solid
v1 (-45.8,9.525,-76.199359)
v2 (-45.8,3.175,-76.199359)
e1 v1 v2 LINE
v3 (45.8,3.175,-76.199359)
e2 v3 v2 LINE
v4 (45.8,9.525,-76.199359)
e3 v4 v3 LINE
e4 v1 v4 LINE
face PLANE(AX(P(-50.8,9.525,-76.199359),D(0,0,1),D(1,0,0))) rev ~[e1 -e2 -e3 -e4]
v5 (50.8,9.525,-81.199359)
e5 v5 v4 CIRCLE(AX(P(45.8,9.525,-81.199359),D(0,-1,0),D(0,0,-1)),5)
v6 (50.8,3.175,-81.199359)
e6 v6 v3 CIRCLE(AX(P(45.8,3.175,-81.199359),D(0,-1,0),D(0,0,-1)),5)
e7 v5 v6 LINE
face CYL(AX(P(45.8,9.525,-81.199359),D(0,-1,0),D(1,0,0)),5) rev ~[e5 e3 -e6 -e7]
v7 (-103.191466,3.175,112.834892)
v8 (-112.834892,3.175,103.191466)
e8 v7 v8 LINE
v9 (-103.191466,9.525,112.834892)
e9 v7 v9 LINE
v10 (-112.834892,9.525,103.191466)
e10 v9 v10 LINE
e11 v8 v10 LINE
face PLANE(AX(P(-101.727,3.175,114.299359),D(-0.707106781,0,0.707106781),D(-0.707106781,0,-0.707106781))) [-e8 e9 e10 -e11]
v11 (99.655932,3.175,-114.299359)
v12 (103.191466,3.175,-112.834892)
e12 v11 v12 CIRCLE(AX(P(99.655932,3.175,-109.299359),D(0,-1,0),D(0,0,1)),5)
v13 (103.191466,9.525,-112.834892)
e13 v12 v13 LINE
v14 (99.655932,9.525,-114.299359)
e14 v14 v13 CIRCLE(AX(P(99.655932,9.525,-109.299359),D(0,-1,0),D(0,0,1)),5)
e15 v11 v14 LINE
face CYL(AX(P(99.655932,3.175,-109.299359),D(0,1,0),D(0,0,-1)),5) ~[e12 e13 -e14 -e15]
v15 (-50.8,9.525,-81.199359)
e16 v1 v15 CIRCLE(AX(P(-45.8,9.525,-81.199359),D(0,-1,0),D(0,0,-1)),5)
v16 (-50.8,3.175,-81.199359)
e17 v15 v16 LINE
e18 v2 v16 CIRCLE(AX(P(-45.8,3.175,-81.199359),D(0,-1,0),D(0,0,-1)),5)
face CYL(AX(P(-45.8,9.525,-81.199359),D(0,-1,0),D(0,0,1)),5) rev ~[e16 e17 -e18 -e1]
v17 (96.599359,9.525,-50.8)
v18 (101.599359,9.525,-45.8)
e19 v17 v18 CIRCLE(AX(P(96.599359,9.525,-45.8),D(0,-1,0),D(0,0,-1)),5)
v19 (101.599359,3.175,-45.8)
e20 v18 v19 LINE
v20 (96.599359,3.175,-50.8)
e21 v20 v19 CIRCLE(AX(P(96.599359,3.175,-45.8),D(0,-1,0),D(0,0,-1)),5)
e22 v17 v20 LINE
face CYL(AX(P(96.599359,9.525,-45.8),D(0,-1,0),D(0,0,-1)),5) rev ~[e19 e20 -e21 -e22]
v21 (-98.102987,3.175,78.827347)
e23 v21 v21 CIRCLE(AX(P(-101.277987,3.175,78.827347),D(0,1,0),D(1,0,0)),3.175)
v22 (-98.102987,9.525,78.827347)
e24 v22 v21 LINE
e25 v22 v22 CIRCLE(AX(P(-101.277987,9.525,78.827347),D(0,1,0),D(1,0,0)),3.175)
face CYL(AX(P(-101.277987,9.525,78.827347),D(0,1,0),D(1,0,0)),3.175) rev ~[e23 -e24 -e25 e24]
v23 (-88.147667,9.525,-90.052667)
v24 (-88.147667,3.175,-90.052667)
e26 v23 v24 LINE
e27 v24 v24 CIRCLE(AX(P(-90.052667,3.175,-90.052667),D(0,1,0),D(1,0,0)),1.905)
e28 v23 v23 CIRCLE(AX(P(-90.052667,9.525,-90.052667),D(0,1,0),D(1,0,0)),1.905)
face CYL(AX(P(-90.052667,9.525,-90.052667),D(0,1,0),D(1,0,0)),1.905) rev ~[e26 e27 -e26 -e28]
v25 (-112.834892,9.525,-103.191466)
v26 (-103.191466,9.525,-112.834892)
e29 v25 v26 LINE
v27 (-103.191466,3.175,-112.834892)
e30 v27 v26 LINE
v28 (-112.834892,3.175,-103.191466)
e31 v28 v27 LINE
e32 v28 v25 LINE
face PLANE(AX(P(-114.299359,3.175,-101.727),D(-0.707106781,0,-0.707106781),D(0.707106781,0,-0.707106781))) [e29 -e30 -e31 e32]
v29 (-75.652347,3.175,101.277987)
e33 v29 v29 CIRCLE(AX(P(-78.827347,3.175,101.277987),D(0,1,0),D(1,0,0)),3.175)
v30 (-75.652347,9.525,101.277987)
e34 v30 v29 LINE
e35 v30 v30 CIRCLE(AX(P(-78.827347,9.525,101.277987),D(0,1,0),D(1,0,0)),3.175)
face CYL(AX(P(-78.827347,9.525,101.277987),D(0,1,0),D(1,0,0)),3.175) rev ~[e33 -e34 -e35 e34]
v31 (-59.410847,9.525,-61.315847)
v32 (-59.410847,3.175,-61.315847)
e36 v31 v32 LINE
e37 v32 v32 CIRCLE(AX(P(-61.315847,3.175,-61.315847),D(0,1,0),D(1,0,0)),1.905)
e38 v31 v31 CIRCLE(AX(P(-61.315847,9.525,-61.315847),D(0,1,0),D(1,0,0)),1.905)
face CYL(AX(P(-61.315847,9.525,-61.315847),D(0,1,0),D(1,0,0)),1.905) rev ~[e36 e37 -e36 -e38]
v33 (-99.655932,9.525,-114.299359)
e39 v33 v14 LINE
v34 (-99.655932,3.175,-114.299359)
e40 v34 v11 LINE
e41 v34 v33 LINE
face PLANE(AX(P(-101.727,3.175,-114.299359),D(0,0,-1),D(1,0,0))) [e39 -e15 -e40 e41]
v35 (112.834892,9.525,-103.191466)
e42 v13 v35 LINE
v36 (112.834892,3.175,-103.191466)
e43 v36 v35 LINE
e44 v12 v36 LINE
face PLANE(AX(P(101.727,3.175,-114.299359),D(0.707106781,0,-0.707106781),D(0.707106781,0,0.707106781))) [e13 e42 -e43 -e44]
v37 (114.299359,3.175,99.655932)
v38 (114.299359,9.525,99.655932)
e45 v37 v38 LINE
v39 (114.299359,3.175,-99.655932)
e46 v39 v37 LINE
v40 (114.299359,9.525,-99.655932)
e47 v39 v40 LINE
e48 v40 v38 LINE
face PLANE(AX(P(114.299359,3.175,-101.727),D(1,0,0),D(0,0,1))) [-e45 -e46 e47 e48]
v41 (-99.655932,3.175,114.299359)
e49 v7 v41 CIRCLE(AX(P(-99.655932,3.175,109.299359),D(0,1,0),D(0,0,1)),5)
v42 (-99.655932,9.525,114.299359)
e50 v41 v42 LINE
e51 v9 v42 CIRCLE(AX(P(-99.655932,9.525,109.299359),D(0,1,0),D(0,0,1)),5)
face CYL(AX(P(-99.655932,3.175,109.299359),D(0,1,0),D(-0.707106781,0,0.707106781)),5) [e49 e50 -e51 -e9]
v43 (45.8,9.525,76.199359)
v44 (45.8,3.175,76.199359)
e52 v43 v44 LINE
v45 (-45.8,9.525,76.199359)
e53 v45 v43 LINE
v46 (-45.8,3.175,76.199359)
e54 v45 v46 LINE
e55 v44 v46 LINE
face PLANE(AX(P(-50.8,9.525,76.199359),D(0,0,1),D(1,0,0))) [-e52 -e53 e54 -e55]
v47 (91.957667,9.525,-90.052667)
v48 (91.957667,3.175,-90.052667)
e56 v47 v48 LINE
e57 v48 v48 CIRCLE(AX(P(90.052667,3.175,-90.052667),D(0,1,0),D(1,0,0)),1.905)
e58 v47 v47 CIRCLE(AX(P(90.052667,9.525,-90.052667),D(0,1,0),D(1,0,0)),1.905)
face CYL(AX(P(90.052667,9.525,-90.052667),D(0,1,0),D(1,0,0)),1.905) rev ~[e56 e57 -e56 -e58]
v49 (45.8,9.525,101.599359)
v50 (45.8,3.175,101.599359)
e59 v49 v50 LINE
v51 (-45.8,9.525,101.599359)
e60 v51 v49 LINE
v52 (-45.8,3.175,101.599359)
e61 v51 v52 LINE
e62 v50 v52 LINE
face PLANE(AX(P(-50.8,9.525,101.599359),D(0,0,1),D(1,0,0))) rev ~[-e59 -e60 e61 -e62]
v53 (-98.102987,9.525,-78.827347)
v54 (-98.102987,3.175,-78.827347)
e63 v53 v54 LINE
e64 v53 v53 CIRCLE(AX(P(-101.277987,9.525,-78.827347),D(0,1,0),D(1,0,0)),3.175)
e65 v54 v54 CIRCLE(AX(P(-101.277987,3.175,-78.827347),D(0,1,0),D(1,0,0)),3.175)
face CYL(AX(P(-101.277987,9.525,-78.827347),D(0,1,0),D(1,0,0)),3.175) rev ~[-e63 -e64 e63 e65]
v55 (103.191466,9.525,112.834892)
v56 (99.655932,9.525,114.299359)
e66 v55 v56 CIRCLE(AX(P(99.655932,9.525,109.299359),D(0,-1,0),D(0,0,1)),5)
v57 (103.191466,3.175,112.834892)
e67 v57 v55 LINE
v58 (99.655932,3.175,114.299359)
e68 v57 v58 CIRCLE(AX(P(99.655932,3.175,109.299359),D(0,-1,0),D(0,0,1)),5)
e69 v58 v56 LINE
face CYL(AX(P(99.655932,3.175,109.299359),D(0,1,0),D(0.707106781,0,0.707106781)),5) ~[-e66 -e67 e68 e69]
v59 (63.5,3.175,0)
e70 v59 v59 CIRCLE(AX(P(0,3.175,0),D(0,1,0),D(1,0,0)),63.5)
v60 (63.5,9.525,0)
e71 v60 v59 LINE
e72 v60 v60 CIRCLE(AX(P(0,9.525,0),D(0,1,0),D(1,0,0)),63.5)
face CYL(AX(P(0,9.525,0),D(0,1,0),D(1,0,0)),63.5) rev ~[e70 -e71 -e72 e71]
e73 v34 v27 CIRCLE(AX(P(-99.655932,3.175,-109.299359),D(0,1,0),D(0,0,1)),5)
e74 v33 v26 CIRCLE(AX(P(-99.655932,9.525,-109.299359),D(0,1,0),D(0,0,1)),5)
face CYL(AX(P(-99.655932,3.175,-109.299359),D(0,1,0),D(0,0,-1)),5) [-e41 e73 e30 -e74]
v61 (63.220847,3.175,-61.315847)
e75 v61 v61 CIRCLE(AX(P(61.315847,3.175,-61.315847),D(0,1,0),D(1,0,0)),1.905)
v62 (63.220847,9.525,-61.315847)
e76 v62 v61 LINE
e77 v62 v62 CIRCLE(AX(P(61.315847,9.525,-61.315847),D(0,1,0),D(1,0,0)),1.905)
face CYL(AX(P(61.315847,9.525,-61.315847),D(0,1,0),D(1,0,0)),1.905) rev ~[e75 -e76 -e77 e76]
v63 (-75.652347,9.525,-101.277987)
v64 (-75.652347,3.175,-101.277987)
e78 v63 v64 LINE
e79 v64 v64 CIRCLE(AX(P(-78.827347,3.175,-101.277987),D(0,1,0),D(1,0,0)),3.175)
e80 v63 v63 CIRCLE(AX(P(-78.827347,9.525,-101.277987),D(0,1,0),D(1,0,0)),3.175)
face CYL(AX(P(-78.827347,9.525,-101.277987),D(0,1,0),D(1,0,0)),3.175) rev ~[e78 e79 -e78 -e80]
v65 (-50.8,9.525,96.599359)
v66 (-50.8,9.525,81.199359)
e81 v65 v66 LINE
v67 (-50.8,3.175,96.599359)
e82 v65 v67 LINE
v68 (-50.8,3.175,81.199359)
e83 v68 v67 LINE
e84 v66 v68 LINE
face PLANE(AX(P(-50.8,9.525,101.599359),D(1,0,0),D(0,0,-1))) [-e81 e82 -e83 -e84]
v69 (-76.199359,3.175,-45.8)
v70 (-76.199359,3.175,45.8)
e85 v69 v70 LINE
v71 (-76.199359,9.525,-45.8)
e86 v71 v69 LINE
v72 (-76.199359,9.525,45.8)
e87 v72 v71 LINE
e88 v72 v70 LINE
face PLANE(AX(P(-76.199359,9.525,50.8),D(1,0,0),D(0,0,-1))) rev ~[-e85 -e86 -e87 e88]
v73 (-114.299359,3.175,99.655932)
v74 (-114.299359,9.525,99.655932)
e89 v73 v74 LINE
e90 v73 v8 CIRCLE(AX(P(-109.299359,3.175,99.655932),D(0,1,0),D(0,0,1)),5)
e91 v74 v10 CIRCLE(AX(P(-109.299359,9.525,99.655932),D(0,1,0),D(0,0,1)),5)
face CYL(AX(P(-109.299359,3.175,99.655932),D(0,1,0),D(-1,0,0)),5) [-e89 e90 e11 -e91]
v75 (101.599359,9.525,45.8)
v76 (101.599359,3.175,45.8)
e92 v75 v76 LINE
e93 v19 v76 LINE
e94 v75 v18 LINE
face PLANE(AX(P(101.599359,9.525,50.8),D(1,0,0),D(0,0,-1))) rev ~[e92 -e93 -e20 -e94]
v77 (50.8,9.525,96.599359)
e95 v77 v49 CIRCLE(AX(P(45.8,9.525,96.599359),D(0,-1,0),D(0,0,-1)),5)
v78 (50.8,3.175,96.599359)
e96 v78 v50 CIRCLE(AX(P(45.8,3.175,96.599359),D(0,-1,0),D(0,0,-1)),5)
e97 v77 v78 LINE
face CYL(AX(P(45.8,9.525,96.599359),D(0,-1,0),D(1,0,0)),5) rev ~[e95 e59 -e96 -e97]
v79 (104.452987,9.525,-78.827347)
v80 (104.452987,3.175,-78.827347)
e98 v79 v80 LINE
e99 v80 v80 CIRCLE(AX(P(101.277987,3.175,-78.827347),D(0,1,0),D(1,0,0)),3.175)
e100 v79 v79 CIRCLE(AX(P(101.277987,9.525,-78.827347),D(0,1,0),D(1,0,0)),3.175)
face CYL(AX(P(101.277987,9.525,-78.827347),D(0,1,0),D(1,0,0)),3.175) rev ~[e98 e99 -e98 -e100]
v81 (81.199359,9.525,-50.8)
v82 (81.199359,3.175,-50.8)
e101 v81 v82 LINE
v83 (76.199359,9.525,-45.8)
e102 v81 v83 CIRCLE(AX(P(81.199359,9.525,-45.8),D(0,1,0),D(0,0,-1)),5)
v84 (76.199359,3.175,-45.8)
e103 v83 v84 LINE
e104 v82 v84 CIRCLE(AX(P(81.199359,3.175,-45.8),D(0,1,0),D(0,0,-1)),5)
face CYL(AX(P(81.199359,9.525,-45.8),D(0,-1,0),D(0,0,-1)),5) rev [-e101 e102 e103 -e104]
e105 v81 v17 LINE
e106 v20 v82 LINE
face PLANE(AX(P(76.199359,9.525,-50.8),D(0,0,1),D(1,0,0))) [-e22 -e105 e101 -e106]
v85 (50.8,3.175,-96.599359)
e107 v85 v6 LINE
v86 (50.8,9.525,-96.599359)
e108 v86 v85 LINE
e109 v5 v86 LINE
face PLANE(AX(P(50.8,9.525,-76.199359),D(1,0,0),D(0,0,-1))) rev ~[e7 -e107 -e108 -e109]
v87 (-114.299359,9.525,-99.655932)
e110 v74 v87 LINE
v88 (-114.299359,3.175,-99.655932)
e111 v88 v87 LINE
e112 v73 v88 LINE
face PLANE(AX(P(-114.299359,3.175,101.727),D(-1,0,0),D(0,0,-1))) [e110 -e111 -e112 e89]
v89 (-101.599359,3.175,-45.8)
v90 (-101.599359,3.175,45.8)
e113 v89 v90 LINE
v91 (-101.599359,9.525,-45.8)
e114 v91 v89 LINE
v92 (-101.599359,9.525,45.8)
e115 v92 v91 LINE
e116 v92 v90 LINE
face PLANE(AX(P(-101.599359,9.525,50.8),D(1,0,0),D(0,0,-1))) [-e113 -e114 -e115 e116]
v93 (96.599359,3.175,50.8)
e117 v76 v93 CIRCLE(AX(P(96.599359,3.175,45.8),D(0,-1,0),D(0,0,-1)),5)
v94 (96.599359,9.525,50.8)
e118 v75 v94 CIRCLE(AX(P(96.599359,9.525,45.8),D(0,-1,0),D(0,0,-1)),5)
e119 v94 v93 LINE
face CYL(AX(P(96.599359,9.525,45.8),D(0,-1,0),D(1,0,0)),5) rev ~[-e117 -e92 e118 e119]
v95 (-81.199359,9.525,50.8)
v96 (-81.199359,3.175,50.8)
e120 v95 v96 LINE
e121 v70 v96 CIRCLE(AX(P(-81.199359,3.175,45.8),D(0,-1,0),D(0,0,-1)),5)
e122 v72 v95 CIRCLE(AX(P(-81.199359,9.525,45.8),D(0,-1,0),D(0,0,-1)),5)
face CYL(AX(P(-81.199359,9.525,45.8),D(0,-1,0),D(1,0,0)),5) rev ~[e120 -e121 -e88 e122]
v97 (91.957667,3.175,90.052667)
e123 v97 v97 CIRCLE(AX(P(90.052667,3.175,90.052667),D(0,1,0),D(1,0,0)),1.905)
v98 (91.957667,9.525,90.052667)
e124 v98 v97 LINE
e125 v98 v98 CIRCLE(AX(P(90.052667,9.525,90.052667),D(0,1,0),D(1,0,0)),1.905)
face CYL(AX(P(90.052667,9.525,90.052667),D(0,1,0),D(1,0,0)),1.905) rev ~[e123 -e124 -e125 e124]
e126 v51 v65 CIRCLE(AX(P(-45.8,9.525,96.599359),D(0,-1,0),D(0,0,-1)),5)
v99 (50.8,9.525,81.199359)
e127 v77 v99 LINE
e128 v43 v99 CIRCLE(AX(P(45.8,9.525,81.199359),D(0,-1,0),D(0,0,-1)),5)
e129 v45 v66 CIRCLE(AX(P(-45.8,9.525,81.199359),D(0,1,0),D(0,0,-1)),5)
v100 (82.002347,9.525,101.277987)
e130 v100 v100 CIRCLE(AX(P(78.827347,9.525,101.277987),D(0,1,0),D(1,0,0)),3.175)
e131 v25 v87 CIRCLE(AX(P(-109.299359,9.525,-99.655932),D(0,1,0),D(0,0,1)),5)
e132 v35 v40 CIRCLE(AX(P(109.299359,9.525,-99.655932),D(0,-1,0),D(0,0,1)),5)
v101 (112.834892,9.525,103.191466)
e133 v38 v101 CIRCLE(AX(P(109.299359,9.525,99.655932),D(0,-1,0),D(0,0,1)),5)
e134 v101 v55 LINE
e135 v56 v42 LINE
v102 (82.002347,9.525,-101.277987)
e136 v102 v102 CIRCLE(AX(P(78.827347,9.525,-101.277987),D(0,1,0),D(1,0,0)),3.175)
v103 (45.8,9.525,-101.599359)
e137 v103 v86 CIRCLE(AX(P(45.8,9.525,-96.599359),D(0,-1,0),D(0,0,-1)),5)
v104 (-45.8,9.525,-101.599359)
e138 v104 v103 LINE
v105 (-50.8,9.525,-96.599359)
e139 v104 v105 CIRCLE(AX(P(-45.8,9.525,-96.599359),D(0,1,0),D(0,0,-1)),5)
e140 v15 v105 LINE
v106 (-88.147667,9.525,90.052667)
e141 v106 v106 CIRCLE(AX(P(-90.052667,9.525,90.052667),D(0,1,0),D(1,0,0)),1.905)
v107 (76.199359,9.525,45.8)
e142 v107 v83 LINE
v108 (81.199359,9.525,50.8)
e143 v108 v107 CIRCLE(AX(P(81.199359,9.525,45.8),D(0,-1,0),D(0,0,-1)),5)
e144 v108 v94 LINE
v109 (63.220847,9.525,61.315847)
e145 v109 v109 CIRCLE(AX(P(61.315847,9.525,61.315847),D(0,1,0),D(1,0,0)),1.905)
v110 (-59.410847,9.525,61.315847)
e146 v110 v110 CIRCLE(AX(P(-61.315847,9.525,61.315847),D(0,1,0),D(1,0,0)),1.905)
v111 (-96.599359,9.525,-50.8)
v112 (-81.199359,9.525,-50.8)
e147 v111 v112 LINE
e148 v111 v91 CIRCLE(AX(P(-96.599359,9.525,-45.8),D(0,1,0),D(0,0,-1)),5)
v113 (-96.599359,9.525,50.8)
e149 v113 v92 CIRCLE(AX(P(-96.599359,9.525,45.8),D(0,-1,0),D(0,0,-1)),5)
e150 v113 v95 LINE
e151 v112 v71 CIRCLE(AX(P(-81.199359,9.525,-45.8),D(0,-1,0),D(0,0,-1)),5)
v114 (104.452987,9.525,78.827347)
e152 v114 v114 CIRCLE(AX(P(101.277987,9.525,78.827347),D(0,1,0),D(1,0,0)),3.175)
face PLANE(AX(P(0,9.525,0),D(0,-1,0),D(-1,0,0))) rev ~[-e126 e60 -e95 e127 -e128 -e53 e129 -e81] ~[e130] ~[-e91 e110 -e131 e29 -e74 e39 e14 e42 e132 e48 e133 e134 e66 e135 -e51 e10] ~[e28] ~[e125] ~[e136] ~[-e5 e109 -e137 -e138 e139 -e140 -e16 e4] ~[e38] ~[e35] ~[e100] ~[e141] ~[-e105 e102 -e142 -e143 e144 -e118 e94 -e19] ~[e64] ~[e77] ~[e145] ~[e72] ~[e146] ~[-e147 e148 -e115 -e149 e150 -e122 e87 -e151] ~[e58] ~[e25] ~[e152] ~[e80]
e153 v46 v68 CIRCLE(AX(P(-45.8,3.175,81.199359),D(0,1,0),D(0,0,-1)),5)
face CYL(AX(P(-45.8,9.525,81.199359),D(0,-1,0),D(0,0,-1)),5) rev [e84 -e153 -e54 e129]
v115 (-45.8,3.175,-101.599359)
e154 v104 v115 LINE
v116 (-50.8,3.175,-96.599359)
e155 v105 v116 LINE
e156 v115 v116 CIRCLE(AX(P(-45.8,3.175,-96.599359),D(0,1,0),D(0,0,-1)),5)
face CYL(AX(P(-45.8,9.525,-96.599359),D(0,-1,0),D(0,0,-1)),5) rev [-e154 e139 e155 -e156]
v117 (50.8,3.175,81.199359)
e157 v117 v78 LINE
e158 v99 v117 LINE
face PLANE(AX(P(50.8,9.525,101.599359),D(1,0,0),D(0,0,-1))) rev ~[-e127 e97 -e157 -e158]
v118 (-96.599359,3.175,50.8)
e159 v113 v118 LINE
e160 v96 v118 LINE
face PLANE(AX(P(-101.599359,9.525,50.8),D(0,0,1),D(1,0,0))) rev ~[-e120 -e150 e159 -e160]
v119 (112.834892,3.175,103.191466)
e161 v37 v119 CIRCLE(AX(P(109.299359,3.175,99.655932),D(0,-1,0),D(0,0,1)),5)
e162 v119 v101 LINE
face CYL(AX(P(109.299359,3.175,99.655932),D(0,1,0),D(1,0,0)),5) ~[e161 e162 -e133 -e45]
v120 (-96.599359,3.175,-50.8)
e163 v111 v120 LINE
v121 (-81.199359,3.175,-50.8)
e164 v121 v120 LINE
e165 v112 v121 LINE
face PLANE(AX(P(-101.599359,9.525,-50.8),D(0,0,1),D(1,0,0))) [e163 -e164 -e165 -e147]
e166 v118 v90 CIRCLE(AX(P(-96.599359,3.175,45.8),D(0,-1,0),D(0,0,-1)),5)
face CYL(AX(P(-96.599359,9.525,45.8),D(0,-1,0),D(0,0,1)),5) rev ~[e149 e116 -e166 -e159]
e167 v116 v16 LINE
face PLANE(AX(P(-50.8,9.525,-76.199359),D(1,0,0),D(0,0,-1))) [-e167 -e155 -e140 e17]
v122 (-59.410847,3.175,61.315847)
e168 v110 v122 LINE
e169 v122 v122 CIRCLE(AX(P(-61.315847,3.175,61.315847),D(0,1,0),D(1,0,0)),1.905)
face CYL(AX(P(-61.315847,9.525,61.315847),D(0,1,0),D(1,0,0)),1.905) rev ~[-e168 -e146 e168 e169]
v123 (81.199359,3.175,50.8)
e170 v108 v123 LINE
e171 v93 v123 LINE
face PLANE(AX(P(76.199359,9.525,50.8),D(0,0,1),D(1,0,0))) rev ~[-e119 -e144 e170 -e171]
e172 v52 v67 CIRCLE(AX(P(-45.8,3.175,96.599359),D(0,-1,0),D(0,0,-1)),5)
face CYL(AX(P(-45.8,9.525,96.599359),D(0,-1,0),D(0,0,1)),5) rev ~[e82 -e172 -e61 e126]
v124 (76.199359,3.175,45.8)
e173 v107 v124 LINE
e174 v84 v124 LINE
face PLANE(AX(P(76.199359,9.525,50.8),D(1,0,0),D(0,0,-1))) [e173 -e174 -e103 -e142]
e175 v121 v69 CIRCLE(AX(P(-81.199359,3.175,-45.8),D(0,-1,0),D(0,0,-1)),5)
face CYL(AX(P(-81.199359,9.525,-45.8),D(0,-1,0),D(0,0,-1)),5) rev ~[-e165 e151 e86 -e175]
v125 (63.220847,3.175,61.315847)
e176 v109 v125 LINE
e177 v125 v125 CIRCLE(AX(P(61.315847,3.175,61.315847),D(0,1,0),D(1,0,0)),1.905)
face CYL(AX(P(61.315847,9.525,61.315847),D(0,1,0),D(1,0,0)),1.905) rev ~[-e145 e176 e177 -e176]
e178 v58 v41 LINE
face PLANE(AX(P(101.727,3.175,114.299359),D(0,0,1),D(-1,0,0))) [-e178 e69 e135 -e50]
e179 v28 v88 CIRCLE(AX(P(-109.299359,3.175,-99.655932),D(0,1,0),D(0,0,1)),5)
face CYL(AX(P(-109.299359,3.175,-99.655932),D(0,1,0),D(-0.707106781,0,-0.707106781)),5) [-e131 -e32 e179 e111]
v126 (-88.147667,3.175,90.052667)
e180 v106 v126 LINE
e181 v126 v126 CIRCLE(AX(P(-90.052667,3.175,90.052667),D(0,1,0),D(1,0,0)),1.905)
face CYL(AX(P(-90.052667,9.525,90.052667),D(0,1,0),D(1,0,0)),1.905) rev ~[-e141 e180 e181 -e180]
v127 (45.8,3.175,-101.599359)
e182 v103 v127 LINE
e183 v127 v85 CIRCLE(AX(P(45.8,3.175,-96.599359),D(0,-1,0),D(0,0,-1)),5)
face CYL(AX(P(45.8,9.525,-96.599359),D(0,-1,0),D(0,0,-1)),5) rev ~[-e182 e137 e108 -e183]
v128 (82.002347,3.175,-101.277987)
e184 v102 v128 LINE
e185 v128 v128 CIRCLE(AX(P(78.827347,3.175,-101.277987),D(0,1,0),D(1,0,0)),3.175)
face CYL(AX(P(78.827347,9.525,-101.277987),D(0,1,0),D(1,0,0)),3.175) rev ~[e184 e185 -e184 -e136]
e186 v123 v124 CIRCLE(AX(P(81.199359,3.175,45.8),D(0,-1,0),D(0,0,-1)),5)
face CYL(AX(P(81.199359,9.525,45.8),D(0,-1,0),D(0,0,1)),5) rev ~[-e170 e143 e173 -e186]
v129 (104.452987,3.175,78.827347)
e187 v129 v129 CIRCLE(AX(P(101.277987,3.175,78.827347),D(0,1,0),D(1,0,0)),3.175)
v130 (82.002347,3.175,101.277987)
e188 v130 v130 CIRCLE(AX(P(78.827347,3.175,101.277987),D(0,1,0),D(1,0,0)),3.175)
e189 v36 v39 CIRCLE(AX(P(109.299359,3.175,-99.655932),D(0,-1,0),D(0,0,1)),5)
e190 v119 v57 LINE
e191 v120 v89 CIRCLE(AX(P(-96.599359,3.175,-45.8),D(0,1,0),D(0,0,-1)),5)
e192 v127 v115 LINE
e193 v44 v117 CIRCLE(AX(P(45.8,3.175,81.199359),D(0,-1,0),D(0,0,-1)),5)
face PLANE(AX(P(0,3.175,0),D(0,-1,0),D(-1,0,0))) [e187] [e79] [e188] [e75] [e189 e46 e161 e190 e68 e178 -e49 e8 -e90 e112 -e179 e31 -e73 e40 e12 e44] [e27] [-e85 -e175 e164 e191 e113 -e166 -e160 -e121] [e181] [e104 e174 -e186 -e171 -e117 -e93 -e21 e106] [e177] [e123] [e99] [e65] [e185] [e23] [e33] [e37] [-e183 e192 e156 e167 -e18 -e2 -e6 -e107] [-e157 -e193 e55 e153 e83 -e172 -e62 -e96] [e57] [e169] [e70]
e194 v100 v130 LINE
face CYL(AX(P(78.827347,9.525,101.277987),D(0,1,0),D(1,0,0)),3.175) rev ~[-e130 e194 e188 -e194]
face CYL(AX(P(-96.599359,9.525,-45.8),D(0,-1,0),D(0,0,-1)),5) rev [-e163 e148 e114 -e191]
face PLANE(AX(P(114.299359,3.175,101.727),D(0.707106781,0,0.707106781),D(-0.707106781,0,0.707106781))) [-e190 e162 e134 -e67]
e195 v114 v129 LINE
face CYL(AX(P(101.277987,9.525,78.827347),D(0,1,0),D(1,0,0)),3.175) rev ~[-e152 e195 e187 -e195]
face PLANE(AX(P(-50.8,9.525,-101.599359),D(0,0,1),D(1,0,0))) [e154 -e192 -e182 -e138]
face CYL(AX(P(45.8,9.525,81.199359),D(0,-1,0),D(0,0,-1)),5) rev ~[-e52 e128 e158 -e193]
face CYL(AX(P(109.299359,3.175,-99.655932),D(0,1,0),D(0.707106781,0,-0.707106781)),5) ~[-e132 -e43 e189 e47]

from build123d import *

# Parameters (mm, degrees)
BOSS_EXTRUDE1_DEPTH     = 12.7
SKETCH2_R               = 6.35
SKETCH2_R_2             = 127
SKETCH2_R_3             = 3.81
CUT_EXTRUDE1_DEPTH      = 1
CUT_EXTRUDE1_DEPTH_BACK = 13.7
SKETCH3_W               = 50.8
SKETCH3_H               = 203.2
SKETCH3_W_2             = 203.2
SKETCH3_H_2             = 50.8
CUT_EXTRUDE2_DEPTH      = 1
CUT_EXTRUDE2_DEPTH_BACK = 13.7
FILLET1_R               = 10
FILLET2_R               = 10
SCALE1_SCALE            = 0.5


with BuildPart() as part:
    # Sketch1 → Boss-Extrude1 (new body)
    with BuildSketch(Plane(origin=(0, 0, 0), x_dir=(1, 0, 0), z_dir=(0, 1, 0))):
        Polygon((-203.454, 228.598717139), (203.454, 228.598717139), (228.598717139, 203.454), (228.598717139, -203.454), (203.454, -228.598717139), (-203.454, -228.598717139), (-228.598717139, -203.454), (-228.598717139, 203.454), align=None)
    extrude(amount=BOSS_EXTRUDE1_DEPTH)

    # Sketch2 → Cut-Extrude1 (cut, two sides)
    with BuildSketch(Plane(origin=(0, 12.7, 0), x_dir=(1, 0, 0), z_dir=(0, 1, 0))) as cut_extrude1_sk:
        with Locations((202.555974388, 157.654693783)):
            Circle(SKETCH2_R)
        with Locations((157.654693783, 202.555974388)):
            Circle(SKETCH2_R)
        with Locations((-157.654693783, 202.555974388)):
            Circle(SKETCH2_R)
        with Locations((-202.555974388, 157.654693783)):
            Circle(SKETCH2_R)
        with Locations((-157.654693783, -202.555974388)):
            Circle(SKETCH2_R)
        with Locations((-202.555974388, -157.654693783)):
            Circle(SKETCH2_R)
        with Locations((157.654693783, -202.555974388)):
            Circle(SKETCH2_R)
        with Locations((202.555974388, -157.654693783)):
            Circle(SKETCH2_R)
        Circle(SKETCH2_R_2)
        with Locations((180.105334085, 180.105334085)):
            Circle(SKETCH2_R_3)
        with Locations((122.63169491, 122.63169491)):
            Circle(SKETCH2_R_3)
        with Locations((-180.105334085, 180.105334085)):
            Circle(SKETCH2_R_3)
        with Locations((-122.63169491, 122.63169491)):
            Circle(SKETCH2_R_3)
        with Locations((180.105334085, -180.105334085)):
            Circle(SKETCH2_R_3)
        with Locations((122.63169491, -122.63169491)):
            Circle(SKETCH2_R_3)
        with Locations((-122.63169491, -122.63169491)):
            Circle(SKETCH2_R_3)
        with Locations((-180.105334085, -180.105334085)):
            Circle(SKETCH2_R_3)
    extrude(amount=CUT_EXTRUDE1_DEPTH, mode=Mode.SUBTRACT)
    extrude(cut_extrude1_sk.sketch, amount=-CUT_EXTRUDE1_DEPTH_BACK, mode=Mode.SUBTRACT)

    # Sketch3 → Cut-Extrude2 (cut, two sides)
    with BuildSketch(Plane(origin=(0, 12.7, 0), x_dir=(1, 0, 0), z_dir=(0, 1, 0))) as cut_extrude2_sk:
        with Locations((177.798717139, 0)):
            Rectangle(SKETCH3_W, SKETCH3_H)
        with Locations((0, -177.798717139)):
            Rectangle(SKETCH3_W_2, SKETCH3_H_2)
        with Locations((-177.798717139, 0)):
            Rectangle(SKETCH3_W, SKETCH3_H)
        with Locations((0, 177.798717139)):
            Rectangle(SKETCH3_W_2, SKETCH3_H_2)
    extrude(amount=CUT_EXTRUDE2_DEPTH, mode=Mode.SUBTRACT)
    extrude(cut_extrude2_sk.sketch, amount=-CUT_EXTRUDE2_DEPTH_BACK, mode=Mode.SUBTRACT)

    # Fillet1
    fillet1_edges = [part.edges().sort_by_distance(p)[0] for p in [
        (228.598717139, 6.35, -203.454),
        (228.598717139, 6.35, 203.454),
        (203.454, 6.35, 228.598717139),
        (-203.454, 6.35, 228.598717139),
        (-228.598717139, 6.35, 203.454),
        (-228.598717139, 6.35, -203.454),
        (-203.454, 6.35, -228.598717139),
        (203.454, 6.35, -228.598717139),
    ]]
    fillet(fillet1_edges, radius=FILLET1_R)

    # Fillet2
    fillet2_edges = [part.edges().sort_by_distance(p)[0] for p in [
        (203.198717139, 6.35, -101.6),
        (203.198717139, 6.35, 101.6),
        (152.398717139, 6.35, 101.6),
        (152.398717139, 6.35, -101.6),
        (101.6, 6.35, 203.198717139),
        (-101.6, 6.35, 203.198717139),
        (-101.6, 6.35, 152.398717139),
        (101.6, 6.35, 152.398717139),
        (-203.198717139, 6.35, 101.6),
        (-203.198717139, 6.35, -101.6),
        (-152.398717139, 6.35, -101.6),
        (-152.398717139, 6.35, 101.6),
        (-101.6, 6.35, -203.198717139),
        (101.6, 6.35, -203.198717139),
        (101.6, 6.35, -152.398717139),
        (-101.6, 6.35, -152.398717139),
    ]]
    fillet(fillet2_edges, radius=FILLET2_R)


with BuildPart() as part_1:
    # Scale1: scaled about (0, 6.35, 0)
    add(part.part.scale(SCALE1_SCALE).moved(Location((0, 3.175, 0))))


solid = part_1.part
